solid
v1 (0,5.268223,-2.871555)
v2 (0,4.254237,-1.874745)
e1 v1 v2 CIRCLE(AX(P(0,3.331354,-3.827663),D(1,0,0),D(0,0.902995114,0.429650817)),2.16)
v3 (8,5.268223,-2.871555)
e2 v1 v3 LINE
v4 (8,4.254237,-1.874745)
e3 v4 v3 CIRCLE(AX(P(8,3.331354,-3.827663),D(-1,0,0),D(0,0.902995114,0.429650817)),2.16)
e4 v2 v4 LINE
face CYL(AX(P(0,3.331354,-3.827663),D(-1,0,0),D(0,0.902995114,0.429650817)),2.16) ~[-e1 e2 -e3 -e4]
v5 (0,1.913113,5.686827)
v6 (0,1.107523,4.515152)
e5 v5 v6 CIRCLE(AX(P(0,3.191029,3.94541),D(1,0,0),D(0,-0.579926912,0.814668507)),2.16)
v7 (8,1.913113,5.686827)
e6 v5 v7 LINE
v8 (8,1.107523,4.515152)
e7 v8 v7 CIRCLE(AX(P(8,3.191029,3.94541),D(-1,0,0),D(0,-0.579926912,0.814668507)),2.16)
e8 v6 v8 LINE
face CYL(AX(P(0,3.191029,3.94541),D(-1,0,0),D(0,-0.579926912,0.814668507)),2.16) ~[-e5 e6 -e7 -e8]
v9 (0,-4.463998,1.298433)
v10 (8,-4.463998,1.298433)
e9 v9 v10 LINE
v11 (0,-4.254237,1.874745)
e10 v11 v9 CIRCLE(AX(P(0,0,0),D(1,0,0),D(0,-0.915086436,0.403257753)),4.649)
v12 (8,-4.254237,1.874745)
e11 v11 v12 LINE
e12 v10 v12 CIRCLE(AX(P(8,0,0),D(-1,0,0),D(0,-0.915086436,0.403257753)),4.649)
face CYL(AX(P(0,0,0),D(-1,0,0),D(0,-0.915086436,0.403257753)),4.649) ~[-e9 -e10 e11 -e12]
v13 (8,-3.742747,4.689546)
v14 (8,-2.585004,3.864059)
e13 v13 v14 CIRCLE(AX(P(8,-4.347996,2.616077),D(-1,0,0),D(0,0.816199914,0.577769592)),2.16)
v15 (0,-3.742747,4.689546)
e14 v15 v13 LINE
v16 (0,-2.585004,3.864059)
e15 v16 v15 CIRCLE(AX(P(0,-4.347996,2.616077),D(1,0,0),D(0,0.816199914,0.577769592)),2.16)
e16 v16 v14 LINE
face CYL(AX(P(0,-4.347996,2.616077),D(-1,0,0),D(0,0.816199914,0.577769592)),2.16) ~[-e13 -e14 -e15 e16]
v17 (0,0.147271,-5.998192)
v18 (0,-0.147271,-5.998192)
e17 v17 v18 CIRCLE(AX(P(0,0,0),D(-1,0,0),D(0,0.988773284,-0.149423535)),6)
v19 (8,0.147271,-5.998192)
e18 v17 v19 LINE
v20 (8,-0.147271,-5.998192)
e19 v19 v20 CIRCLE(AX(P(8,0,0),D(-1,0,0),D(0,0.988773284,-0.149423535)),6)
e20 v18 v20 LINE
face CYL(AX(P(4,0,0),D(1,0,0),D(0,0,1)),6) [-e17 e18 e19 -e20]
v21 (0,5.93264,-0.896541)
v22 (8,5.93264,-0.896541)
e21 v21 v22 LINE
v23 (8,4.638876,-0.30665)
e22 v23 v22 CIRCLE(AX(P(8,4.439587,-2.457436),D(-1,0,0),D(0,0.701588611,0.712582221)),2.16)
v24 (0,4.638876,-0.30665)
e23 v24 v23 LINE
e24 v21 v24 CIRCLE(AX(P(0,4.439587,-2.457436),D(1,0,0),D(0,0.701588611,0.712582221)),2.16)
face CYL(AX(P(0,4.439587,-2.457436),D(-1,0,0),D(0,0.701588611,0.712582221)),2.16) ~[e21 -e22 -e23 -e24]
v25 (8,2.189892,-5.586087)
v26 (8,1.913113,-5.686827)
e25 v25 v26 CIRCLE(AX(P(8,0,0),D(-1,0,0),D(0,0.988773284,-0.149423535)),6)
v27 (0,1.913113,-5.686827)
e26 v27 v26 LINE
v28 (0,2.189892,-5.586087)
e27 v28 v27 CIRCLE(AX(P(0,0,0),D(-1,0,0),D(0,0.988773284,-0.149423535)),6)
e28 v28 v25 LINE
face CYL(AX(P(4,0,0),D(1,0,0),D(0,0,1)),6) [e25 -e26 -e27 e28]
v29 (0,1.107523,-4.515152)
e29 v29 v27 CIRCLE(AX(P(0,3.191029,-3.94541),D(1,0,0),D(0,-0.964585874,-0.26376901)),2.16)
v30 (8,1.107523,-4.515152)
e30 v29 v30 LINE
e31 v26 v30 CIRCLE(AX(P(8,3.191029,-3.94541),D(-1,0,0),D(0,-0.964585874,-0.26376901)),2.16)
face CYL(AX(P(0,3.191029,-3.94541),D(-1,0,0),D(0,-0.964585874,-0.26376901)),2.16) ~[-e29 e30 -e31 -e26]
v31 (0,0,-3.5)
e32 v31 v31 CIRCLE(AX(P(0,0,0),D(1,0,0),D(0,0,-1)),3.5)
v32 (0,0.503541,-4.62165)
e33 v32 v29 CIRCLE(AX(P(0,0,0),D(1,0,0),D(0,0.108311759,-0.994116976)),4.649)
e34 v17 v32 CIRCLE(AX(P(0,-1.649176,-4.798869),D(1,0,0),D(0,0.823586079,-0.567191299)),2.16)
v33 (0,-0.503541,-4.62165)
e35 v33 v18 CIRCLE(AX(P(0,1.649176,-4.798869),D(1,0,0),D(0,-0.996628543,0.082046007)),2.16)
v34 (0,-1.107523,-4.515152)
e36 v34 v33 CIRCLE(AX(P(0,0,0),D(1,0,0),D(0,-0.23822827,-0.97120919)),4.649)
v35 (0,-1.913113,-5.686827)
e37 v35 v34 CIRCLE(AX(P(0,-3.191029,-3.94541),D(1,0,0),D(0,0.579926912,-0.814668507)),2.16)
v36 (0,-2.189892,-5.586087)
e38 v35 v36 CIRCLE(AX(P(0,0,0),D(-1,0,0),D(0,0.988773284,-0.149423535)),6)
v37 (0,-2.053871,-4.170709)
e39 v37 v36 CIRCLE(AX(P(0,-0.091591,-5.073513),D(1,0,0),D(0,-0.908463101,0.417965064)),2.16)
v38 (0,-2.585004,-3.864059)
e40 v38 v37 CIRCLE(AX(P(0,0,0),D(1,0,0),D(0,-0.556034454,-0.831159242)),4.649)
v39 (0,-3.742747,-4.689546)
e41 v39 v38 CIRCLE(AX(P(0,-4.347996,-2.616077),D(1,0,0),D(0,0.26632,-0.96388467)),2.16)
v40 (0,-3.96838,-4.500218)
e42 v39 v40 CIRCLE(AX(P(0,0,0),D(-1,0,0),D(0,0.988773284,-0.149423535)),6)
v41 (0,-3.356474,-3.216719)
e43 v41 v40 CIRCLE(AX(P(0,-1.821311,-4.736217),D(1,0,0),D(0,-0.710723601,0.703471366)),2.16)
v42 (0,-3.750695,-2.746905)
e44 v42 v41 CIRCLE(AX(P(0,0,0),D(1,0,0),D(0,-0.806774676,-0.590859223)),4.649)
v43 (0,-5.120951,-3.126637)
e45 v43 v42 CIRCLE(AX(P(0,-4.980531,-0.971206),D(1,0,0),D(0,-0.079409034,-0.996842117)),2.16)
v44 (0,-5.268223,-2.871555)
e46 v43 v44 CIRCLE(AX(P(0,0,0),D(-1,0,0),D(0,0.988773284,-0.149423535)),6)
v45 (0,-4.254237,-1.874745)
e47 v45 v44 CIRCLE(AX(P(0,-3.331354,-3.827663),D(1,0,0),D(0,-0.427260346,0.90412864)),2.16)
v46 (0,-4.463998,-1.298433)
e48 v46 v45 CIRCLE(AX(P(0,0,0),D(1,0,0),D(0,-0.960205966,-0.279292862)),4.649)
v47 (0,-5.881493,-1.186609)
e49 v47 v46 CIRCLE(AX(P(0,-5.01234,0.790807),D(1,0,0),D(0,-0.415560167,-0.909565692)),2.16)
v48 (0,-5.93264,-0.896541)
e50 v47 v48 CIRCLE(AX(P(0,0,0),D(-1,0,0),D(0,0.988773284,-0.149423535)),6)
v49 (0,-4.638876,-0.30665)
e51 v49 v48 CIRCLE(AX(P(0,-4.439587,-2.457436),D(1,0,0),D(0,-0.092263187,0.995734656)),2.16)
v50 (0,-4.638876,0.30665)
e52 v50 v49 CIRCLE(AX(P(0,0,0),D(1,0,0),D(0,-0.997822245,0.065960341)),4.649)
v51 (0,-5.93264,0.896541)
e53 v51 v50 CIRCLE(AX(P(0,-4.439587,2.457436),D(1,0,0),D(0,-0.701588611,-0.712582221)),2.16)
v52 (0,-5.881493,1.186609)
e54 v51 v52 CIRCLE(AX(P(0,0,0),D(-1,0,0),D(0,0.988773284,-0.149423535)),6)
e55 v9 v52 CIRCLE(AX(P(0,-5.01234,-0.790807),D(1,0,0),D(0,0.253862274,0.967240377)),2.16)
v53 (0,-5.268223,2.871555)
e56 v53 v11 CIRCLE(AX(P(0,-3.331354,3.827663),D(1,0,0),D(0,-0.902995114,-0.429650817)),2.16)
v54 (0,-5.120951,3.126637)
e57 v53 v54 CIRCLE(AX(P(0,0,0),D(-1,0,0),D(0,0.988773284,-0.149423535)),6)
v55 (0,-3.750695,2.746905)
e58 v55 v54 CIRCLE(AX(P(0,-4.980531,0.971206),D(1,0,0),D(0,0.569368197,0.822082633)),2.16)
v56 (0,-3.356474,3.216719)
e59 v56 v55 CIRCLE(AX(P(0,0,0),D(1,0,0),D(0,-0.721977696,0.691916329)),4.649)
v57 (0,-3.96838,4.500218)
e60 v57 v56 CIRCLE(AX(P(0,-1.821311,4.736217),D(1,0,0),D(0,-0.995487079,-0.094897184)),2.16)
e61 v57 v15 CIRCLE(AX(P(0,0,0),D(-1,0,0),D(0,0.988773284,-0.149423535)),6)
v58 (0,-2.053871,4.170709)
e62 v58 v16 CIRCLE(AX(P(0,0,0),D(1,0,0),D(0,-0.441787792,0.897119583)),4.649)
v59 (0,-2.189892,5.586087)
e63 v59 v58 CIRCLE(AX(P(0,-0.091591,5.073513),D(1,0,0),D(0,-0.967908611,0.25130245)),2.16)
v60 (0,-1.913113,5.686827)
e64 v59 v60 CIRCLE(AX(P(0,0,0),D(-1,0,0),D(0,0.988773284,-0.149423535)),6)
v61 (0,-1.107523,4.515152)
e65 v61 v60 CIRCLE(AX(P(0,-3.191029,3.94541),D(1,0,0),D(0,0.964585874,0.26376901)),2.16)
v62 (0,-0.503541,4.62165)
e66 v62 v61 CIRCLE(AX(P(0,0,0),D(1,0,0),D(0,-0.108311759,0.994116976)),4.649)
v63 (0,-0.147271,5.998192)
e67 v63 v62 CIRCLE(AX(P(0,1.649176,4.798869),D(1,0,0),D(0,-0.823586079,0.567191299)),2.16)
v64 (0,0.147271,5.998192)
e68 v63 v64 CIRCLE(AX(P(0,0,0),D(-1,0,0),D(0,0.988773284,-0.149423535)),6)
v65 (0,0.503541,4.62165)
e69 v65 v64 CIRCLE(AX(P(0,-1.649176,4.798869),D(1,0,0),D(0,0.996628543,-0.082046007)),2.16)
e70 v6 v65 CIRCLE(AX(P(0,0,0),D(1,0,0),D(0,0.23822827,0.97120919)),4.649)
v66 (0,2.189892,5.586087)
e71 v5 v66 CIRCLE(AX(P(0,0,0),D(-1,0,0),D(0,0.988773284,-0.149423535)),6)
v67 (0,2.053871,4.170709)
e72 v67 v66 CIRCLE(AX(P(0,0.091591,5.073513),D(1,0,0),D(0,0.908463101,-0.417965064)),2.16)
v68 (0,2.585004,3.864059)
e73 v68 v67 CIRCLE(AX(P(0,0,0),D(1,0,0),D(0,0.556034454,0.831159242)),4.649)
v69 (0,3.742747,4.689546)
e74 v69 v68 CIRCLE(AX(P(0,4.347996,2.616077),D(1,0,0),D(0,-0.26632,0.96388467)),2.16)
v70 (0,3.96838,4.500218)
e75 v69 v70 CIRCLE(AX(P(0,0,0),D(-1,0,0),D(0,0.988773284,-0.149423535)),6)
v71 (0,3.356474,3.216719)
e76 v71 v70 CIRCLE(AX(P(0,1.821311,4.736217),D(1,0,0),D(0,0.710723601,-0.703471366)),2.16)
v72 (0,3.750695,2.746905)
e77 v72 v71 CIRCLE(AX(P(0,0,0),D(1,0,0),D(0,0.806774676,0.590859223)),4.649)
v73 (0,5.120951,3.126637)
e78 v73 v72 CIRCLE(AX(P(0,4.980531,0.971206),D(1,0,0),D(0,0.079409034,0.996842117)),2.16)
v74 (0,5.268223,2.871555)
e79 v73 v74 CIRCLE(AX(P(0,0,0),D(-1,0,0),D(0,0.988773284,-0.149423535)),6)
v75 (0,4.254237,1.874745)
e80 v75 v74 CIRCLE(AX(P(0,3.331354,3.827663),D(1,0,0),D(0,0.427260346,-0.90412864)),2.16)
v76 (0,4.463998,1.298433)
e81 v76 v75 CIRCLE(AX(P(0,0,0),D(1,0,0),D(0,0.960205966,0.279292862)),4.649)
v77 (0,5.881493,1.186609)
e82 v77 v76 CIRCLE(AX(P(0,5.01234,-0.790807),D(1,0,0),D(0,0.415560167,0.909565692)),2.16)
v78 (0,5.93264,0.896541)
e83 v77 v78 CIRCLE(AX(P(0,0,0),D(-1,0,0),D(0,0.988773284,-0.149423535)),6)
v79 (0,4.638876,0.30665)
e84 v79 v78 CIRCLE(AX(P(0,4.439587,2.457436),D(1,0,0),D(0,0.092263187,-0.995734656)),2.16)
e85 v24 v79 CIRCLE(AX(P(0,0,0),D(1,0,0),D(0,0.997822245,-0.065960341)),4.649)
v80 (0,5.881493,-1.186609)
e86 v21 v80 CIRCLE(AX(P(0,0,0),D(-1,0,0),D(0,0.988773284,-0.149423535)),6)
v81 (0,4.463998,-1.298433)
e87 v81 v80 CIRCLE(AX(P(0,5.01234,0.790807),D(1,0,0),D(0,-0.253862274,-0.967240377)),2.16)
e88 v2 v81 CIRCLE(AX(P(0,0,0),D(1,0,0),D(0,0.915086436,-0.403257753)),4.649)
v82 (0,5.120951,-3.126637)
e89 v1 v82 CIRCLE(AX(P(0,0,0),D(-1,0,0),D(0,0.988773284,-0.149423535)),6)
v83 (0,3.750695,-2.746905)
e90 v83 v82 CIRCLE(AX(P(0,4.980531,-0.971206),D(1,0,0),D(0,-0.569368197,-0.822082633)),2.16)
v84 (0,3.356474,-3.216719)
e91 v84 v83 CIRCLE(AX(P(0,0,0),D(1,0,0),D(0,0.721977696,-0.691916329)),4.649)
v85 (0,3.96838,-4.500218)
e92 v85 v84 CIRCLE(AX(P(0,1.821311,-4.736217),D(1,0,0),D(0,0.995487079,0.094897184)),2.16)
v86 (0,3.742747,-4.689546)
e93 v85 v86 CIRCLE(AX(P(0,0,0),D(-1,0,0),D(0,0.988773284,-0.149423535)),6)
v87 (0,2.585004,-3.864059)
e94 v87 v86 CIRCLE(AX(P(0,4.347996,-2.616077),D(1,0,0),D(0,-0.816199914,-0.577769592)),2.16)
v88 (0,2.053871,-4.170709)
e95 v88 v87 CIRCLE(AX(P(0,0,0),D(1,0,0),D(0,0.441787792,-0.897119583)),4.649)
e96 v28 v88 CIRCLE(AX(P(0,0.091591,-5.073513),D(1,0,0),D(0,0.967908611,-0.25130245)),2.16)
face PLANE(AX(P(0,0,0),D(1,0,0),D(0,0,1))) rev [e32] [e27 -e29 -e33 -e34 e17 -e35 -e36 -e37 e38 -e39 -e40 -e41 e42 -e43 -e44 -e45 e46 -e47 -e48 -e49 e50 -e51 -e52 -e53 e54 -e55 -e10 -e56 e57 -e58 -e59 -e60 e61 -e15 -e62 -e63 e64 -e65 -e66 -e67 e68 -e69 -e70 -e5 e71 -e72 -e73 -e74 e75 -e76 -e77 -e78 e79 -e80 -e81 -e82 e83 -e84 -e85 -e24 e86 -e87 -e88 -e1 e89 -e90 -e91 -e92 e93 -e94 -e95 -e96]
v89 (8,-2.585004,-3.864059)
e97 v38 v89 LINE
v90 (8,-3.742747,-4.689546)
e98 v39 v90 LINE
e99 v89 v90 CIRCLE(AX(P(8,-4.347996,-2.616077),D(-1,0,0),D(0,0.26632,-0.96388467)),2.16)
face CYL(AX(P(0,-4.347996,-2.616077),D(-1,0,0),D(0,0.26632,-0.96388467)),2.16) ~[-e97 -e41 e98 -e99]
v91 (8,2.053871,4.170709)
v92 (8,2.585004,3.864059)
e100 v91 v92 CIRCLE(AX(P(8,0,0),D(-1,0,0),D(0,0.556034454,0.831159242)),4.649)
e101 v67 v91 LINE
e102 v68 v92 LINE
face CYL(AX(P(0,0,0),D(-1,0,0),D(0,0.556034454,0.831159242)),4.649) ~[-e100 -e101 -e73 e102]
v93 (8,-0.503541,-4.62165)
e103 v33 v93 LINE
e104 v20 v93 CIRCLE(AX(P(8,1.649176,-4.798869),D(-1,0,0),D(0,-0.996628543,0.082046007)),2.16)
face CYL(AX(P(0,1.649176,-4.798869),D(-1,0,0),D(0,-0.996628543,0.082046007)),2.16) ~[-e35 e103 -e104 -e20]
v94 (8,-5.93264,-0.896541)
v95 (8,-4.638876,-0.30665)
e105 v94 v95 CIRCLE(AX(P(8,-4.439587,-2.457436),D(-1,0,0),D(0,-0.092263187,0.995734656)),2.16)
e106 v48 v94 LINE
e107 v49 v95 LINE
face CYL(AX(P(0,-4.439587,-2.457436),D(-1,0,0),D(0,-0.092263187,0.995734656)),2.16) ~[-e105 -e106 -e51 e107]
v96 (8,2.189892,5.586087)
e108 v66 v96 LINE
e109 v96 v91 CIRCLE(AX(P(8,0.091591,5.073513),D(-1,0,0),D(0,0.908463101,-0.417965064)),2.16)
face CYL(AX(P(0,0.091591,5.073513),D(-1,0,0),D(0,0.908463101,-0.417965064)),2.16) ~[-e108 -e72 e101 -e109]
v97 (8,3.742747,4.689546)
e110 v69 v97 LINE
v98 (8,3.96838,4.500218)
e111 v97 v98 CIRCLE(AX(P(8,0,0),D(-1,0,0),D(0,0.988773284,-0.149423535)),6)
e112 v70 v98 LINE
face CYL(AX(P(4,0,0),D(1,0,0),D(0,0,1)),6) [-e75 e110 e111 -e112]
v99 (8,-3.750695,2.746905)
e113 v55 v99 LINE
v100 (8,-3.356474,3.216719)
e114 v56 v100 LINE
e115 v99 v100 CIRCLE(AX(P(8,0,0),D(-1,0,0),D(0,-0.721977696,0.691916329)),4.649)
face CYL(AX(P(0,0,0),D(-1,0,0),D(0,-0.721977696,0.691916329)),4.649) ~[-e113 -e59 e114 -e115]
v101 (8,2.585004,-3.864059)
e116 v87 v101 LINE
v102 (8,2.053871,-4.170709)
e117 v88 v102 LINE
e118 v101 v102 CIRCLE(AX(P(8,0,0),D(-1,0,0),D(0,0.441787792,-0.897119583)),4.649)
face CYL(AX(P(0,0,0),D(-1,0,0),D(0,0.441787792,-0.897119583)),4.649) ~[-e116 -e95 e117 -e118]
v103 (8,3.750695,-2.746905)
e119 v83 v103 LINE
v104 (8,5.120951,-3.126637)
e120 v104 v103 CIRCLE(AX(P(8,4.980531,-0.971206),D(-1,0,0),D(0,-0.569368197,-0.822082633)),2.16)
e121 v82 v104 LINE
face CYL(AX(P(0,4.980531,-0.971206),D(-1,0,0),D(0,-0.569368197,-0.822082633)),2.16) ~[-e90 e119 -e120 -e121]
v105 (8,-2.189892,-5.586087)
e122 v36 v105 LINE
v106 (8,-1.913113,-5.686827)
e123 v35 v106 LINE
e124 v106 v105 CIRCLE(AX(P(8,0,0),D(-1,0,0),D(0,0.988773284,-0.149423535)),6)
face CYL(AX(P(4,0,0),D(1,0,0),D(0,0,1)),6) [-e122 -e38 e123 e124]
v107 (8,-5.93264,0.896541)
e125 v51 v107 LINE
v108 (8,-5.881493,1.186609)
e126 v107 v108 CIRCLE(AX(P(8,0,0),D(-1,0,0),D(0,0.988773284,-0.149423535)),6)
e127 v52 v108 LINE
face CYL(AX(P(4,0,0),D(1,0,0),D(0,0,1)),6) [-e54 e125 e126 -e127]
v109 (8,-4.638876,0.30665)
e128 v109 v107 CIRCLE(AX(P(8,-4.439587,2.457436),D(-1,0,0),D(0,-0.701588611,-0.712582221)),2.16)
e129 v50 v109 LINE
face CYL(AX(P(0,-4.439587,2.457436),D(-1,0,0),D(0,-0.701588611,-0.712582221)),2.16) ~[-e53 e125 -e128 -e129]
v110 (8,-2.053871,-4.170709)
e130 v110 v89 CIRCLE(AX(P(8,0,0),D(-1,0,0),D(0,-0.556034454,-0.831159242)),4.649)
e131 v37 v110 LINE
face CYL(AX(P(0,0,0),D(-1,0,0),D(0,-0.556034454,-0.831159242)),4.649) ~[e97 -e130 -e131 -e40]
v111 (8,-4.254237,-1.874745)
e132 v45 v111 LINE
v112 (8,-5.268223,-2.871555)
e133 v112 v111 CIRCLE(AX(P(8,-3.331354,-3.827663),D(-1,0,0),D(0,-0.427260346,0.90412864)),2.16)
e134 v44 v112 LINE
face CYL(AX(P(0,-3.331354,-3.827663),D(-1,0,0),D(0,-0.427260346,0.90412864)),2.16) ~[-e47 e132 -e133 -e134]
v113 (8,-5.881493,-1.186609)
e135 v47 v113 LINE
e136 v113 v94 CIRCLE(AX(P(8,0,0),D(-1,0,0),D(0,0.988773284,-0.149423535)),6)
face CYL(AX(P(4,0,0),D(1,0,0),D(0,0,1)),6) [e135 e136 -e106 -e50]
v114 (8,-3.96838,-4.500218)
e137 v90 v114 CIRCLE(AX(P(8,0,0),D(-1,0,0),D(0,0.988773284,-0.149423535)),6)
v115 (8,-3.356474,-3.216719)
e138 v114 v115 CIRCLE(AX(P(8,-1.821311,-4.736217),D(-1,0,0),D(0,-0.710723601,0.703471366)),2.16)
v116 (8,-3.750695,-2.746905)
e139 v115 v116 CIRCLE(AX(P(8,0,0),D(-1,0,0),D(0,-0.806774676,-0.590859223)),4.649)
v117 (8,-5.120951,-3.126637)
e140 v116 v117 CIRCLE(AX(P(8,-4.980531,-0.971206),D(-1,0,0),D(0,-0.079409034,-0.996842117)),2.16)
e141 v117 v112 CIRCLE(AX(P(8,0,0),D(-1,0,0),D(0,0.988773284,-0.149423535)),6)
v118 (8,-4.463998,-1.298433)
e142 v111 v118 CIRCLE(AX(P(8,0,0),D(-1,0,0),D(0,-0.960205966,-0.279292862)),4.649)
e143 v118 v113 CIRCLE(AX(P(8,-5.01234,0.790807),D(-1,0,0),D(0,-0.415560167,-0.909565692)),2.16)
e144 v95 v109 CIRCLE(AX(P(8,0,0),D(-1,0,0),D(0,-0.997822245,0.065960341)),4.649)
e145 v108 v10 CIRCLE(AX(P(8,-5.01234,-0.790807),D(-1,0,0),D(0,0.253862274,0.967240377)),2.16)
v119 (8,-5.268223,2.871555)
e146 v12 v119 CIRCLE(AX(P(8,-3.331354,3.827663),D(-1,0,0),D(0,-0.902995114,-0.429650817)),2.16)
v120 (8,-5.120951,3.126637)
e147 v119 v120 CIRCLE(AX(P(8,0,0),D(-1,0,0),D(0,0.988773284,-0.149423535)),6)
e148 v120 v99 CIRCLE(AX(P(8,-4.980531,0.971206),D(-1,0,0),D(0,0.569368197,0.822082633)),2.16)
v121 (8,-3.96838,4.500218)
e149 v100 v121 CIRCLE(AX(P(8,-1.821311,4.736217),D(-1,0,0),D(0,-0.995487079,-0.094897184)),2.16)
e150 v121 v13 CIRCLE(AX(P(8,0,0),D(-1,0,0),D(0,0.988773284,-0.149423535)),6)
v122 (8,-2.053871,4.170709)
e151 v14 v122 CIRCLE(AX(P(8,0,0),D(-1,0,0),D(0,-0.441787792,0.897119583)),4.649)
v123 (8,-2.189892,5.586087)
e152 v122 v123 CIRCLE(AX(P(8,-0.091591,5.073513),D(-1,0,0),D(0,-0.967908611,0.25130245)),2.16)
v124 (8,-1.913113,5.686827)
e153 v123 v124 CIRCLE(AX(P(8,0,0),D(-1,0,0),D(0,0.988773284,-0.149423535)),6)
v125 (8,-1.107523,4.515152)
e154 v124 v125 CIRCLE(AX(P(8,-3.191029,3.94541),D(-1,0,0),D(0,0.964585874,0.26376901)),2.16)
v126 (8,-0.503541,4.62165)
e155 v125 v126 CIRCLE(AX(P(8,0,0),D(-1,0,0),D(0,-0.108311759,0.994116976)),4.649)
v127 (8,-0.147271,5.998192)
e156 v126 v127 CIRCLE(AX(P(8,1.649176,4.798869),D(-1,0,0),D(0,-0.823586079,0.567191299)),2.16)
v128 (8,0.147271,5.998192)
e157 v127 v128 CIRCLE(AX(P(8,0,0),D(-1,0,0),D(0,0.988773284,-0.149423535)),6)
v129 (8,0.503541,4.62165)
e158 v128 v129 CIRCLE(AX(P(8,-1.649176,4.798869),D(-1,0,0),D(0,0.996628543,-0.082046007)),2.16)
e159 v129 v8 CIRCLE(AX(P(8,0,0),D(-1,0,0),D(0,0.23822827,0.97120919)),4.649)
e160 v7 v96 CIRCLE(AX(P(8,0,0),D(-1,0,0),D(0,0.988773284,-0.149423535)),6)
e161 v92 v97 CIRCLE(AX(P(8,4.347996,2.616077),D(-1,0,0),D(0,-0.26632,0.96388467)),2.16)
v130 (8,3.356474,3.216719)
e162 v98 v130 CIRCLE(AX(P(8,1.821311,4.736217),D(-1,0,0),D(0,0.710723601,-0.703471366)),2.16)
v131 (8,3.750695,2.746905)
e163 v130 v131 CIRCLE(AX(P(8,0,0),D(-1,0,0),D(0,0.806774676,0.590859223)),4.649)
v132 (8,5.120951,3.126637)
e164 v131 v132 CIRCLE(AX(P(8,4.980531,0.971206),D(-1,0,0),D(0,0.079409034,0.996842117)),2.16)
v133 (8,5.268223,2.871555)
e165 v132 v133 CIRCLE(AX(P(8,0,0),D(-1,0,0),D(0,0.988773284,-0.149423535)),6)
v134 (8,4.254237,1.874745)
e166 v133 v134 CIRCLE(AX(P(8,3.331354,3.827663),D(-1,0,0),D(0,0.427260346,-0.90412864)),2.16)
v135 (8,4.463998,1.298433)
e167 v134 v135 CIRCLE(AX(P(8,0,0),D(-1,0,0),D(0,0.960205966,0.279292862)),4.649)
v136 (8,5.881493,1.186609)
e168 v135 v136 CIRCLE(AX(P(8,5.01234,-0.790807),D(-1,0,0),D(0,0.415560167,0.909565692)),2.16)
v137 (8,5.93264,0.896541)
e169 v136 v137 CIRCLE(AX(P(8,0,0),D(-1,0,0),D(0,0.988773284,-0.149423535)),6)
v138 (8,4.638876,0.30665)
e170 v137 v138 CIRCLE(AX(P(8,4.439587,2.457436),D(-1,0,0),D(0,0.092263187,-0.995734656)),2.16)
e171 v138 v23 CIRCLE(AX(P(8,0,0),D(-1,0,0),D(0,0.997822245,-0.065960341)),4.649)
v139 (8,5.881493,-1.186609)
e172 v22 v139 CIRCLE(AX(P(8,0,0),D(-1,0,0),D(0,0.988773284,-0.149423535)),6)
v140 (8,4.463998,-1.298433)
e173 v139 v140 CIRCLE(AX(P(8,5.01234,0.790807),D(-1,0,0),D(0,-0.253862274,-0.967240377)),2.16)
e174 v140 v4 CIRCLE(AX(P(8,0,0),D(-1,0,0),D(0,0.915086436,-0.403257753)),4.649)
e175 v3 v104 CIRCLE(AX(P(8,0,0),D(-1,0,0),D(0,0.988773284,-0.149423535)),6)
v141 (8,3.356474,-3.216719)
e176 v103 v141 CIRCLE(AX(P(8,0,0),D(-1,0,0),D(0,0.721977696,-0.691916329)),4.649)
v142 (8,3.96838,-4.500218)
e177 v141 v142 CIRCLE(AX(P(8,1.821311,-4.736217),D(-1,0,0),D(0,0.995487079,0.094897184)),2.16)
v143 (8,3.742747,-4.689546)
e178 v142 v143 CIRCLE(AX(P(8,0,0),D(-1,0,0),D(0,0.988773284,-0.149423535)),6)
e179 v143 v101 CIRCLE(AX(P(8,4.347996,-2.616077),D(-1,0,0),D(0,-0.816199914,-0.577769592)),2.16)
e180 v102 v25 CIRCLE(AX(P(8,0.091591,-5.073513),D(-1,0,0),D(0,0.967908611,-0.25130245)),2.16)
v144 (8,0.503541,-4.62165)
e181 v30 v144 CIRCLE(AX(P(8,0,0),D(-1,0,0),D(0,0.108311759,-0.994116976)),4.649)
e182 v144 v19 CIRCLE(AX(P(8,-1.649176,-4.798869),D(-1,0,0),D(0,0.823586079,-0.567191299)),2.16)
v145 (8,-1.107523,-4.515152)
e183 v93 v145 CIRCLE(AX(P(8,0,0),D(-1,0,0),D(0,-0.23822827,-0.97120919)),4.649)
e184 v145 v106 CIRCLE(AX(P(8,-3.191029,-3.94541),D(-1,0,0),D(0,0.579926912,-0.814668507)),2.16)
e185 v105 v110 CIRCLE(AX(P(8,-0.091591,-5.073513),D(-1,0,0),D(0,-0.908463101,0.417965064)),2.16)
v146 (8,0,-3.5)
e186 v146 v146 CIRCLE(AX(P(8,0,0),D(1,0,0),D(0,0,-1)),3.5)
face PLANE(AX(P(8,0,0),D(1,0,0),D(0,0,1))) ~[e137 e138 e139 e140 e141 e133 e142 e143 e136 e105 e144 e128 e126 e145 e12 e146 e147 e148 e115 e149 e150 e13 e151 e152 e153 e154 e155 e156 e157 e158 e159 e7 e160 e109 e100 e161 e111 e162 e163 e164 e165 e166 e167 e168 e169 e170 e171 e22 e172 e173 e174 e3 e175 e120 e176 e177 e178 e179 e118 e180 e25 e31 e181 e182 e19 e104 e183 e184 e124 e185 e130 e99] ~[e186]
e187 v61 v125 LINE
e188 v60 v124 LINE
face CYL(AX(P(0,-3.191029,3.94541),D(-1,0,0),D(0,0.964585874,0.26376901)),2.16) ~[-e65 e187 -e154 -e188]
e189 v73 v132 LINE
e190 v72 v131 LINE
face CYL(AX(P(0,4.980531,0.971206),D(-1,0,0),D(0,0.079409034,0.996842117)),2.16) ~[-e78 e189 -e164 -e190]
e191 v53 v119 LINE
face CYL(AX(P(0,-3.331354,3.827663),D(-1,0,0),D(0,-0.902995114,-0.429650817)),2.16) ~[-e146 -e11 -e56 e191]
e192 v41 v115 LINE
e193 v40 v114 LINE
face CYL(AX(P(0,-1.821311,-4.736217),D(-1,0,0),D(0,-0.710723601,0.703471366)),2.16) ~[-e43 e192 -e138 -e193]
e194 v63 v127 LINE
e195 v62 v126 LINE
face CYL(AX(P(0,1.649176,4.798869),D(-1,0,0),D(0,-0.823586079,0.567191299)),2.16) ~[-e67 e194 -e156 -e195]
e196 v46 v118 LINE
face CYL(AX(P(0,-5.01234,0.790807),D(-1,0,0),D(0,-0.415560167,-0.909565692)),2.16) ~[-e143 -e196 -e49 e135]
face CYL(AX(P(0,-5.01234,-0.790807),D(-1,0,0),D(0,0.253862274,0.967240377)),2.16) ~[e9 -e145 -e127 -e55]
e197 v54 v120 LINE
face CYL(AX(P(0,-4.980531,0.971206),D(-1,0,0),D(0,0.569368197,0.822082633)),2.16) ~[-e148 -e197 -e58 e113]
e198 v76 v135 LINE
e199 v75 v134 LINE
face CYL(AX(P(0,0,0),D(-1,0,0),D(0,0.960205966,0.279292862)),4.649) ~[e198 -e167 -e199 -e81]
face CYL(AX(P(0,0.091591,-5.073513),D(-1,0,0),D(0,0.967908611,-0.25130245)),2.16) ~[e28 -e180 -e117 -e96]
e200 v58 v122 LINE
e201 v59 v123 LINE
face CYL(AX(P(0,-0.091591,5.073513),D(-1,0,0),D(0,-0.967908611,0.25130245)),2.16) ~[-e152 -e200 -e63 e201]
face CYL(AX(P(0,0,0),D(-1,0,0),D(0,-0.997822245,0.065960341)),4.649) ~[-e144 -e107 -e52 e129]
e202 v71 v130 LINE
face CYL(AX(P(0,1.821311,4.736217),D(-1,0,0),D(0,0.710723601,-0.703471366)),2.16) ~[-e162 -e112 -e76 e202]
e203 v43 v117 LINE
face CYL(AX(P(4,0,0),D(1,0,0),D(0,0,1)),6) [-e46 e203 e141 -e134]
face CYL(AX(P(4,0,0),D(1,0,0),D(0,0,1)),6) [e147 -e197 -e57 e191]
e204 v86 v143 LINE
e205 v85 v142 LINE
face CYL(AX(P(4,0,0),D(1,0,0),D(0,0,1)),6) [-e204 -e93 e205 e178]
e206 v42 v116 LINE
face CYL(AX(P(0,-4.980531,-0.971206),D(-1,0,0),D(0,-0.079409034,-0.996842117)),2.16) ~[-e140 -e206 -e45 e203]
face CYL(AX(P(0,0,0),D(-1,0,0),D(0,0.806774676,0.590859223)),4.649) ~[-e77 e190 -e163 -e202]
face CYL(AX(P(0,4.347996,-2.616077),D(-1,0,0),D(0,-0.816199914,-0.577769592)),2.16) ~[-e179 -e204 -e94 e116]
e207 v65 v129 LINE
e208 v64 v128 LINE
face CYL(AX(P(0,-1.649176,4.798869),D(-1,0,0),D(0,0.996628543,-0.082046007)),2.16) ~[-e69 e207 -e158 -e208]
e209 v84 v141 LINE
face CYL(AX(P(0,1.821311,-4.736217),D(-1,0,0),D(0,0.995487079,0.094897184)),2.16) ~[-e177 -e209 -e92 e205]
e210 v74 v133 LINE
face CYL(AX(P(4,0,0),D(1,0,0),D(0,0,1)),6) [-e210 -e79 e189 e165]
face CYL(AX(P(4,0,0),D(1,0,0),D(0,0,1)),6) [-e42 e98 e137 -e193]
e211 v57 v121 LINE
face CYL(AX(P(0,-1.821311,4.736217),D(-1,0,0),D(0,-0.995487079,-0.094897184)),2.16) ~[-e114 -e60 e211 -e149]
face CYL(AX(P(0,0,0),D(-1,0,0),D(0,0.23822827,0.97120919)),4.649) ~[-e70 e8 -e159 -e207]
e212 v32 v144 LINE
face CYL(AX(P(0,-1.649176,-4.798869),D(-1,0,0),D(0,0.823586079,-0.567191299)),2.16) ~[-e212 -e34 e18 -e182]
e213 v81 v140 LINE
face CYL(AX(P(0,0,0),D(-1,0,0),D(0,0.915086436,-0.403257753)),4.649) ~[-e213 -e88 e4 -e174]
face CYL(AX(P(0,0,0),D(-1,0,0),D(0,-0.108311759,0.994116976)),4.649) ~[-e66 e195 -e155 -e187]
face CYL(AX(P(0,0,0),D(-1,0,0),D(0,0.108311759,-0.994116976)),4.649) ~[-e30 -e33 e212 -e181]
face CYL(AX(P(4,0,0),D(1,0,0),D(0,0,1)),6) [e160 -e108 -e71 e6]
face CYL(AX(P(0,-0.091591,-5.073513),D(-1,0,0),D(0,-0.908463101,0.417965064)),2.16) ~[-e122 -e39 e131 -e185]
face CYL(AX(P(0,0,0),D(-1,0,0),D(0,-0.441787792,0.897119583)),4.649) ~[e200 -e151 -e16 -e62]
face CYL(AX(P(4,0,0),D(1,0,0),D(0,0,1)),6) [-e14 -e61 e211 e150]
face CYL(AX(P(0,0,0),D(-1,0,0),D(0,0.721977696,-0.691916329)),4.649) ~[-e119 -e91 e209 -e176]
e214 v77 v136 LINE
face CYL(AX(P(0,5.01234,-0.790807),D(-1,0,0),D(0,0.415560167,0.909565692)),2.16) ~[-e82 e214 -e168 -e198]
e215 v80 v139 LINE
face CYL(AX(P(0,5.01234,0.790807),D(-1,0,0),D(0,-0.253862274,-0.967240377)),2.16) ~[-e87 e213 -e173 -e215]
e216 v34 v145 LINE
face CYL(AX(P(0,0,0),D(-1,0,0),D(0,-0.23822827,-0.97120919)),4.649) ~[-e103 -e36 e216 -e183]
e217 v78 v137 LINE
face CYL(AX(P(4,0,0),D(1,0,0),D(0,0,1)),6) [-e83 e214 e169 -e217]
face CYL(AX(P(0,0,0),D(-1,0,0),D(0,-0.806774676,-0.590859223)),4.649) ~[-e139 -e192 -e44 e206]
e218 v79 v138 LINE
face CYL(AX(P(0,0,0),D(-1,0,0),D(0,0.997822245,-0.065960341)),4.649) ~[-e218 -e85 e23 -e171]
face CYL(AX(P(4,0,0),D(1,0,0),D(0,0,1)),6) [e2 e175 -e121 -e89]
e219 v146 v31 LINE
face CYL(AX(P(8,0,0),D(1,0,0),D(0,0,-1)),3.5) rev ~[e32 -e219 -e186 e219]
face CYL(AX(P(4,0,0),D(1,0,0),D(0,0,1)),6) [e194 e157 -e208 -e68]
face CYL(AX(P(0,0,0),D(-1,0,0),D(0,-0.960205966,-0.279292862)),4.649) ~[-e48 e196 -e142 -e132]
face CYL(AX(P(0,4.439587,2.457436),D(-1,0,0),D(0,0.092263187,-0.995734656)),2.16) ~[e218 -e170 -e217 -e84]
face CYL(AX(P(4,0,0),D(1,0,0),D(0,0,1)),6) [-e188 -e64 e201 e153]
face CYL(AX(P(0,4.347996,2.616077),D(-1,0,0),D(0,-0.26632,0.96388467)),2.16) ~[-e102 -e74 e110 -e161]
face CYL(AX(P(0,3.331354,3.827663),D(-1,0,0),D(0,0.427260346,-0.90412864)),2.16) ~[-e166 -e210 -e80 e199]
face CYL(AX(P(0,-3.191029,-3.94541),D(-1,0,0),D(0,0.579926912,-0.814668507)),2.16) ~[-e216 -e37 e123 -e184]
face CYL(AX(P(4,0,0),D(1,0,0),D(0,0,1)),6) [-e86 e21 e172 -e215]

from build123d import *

# Parameters (mm, degrees)
BASPROSKE_W        = 8
BASPROSKE_H        = 6
TOOTHCUT_DEPTH     = 12.66190379
TEETHCUTS_COUNT    = 18
TEETHCUTS_ANGLE    = 340
BORSKE_R           = 0.5
BORE_DEPTH         = 50.0000508
SKETCH1_R          = 3.5
CUT_EXTRUDE1_DEPTH = 12.627390673


with BuildPart() as part:
    # BasProSke → Base-Revolve (revolve)
    with BuildSketch(Plane(origin=(0, 0, 0), x_dir=(1, 0, 0), z_dir=(0, 1, 0)), mode=Mode.PRIVATE) as base_revolve_sk:
        with Locations((4, 3)):
            Rectangle(BASPROSKE_W, BASPROSKE_H)
    revolve(base_revolve_sk.sketch.rotate(Axis((-10, 0, 0), (1, 0, 0)), 180), axis=Axis((-10, 0, 0), (1, 0, 0)))

    # TooCutSke → ToothCut (cut, through all)
    with BuildSketch(Plane(origin=(0, 0, 0), x_dir=(0, 0, -1), z_dir=(1, 0, 0))):
        with BuildLine():
            ThreePointArc((0.306649621, 4.638875619), (0, 4.649), (-0.306649621, 4.638875619))
            ThreePointArc((-0.306649621, 4.638875619), (-0.498605842, 5.349852231), (-0.918258882, 5.955018538))
            ThreePointArc((-0.918258882, 5.955018538), (0, 6.0254), (0.918258882, 5.955018538))
            ThreePointArc((0.918258882, 5.955018538), (0.498605842, 5.349852231), (0.306649621, 4.638875619))
        make_face()
    toothcut = extrude(amount=TOOTHCUT_DEPTH, mode=Mode.SUBTRACT)

    # TeethCuts: ToothCut ×18 about axis
    teethcuts_axis = Axis((-10, 0, 0), (1, 0, 0))
    for i in range(1, TEETHCUTS_COUNT):
        add(toothcut.rotate(teethcuts_axis, i * TEETHCUTS_ANGLE / (TEETHCUTS_COUNT - 1)), mode=Mode.SUBTRACT)

    # BorSke → Bore (cut, symmetric)
    with BuildSketch(Plane(origin=(0, 0, 0), x_dir=(0, 0, -1), z_dir=(1, 0, 0))):
        with Locations(Location((0, 0, 0), (0, 0, 180))):
            Circle(BORSKE_R)
    extrude(amount=BORE_DEPTH, both=True, mode=Mode.SUBTRACT)

    # Sketch1 → Cut-Extrude1 (cut, through all)
    with BuildSketch(Plane(origin=(8, 0, 0), x_dir=(0, 0, -1), z_dir=(1, 0, 0))):
        Circle(SKETCH1_R)
    extrude(amount=-CUT_EXTRUDE1_DEPTH, mode=Mode.SUBTRACT)


solid = part.part
